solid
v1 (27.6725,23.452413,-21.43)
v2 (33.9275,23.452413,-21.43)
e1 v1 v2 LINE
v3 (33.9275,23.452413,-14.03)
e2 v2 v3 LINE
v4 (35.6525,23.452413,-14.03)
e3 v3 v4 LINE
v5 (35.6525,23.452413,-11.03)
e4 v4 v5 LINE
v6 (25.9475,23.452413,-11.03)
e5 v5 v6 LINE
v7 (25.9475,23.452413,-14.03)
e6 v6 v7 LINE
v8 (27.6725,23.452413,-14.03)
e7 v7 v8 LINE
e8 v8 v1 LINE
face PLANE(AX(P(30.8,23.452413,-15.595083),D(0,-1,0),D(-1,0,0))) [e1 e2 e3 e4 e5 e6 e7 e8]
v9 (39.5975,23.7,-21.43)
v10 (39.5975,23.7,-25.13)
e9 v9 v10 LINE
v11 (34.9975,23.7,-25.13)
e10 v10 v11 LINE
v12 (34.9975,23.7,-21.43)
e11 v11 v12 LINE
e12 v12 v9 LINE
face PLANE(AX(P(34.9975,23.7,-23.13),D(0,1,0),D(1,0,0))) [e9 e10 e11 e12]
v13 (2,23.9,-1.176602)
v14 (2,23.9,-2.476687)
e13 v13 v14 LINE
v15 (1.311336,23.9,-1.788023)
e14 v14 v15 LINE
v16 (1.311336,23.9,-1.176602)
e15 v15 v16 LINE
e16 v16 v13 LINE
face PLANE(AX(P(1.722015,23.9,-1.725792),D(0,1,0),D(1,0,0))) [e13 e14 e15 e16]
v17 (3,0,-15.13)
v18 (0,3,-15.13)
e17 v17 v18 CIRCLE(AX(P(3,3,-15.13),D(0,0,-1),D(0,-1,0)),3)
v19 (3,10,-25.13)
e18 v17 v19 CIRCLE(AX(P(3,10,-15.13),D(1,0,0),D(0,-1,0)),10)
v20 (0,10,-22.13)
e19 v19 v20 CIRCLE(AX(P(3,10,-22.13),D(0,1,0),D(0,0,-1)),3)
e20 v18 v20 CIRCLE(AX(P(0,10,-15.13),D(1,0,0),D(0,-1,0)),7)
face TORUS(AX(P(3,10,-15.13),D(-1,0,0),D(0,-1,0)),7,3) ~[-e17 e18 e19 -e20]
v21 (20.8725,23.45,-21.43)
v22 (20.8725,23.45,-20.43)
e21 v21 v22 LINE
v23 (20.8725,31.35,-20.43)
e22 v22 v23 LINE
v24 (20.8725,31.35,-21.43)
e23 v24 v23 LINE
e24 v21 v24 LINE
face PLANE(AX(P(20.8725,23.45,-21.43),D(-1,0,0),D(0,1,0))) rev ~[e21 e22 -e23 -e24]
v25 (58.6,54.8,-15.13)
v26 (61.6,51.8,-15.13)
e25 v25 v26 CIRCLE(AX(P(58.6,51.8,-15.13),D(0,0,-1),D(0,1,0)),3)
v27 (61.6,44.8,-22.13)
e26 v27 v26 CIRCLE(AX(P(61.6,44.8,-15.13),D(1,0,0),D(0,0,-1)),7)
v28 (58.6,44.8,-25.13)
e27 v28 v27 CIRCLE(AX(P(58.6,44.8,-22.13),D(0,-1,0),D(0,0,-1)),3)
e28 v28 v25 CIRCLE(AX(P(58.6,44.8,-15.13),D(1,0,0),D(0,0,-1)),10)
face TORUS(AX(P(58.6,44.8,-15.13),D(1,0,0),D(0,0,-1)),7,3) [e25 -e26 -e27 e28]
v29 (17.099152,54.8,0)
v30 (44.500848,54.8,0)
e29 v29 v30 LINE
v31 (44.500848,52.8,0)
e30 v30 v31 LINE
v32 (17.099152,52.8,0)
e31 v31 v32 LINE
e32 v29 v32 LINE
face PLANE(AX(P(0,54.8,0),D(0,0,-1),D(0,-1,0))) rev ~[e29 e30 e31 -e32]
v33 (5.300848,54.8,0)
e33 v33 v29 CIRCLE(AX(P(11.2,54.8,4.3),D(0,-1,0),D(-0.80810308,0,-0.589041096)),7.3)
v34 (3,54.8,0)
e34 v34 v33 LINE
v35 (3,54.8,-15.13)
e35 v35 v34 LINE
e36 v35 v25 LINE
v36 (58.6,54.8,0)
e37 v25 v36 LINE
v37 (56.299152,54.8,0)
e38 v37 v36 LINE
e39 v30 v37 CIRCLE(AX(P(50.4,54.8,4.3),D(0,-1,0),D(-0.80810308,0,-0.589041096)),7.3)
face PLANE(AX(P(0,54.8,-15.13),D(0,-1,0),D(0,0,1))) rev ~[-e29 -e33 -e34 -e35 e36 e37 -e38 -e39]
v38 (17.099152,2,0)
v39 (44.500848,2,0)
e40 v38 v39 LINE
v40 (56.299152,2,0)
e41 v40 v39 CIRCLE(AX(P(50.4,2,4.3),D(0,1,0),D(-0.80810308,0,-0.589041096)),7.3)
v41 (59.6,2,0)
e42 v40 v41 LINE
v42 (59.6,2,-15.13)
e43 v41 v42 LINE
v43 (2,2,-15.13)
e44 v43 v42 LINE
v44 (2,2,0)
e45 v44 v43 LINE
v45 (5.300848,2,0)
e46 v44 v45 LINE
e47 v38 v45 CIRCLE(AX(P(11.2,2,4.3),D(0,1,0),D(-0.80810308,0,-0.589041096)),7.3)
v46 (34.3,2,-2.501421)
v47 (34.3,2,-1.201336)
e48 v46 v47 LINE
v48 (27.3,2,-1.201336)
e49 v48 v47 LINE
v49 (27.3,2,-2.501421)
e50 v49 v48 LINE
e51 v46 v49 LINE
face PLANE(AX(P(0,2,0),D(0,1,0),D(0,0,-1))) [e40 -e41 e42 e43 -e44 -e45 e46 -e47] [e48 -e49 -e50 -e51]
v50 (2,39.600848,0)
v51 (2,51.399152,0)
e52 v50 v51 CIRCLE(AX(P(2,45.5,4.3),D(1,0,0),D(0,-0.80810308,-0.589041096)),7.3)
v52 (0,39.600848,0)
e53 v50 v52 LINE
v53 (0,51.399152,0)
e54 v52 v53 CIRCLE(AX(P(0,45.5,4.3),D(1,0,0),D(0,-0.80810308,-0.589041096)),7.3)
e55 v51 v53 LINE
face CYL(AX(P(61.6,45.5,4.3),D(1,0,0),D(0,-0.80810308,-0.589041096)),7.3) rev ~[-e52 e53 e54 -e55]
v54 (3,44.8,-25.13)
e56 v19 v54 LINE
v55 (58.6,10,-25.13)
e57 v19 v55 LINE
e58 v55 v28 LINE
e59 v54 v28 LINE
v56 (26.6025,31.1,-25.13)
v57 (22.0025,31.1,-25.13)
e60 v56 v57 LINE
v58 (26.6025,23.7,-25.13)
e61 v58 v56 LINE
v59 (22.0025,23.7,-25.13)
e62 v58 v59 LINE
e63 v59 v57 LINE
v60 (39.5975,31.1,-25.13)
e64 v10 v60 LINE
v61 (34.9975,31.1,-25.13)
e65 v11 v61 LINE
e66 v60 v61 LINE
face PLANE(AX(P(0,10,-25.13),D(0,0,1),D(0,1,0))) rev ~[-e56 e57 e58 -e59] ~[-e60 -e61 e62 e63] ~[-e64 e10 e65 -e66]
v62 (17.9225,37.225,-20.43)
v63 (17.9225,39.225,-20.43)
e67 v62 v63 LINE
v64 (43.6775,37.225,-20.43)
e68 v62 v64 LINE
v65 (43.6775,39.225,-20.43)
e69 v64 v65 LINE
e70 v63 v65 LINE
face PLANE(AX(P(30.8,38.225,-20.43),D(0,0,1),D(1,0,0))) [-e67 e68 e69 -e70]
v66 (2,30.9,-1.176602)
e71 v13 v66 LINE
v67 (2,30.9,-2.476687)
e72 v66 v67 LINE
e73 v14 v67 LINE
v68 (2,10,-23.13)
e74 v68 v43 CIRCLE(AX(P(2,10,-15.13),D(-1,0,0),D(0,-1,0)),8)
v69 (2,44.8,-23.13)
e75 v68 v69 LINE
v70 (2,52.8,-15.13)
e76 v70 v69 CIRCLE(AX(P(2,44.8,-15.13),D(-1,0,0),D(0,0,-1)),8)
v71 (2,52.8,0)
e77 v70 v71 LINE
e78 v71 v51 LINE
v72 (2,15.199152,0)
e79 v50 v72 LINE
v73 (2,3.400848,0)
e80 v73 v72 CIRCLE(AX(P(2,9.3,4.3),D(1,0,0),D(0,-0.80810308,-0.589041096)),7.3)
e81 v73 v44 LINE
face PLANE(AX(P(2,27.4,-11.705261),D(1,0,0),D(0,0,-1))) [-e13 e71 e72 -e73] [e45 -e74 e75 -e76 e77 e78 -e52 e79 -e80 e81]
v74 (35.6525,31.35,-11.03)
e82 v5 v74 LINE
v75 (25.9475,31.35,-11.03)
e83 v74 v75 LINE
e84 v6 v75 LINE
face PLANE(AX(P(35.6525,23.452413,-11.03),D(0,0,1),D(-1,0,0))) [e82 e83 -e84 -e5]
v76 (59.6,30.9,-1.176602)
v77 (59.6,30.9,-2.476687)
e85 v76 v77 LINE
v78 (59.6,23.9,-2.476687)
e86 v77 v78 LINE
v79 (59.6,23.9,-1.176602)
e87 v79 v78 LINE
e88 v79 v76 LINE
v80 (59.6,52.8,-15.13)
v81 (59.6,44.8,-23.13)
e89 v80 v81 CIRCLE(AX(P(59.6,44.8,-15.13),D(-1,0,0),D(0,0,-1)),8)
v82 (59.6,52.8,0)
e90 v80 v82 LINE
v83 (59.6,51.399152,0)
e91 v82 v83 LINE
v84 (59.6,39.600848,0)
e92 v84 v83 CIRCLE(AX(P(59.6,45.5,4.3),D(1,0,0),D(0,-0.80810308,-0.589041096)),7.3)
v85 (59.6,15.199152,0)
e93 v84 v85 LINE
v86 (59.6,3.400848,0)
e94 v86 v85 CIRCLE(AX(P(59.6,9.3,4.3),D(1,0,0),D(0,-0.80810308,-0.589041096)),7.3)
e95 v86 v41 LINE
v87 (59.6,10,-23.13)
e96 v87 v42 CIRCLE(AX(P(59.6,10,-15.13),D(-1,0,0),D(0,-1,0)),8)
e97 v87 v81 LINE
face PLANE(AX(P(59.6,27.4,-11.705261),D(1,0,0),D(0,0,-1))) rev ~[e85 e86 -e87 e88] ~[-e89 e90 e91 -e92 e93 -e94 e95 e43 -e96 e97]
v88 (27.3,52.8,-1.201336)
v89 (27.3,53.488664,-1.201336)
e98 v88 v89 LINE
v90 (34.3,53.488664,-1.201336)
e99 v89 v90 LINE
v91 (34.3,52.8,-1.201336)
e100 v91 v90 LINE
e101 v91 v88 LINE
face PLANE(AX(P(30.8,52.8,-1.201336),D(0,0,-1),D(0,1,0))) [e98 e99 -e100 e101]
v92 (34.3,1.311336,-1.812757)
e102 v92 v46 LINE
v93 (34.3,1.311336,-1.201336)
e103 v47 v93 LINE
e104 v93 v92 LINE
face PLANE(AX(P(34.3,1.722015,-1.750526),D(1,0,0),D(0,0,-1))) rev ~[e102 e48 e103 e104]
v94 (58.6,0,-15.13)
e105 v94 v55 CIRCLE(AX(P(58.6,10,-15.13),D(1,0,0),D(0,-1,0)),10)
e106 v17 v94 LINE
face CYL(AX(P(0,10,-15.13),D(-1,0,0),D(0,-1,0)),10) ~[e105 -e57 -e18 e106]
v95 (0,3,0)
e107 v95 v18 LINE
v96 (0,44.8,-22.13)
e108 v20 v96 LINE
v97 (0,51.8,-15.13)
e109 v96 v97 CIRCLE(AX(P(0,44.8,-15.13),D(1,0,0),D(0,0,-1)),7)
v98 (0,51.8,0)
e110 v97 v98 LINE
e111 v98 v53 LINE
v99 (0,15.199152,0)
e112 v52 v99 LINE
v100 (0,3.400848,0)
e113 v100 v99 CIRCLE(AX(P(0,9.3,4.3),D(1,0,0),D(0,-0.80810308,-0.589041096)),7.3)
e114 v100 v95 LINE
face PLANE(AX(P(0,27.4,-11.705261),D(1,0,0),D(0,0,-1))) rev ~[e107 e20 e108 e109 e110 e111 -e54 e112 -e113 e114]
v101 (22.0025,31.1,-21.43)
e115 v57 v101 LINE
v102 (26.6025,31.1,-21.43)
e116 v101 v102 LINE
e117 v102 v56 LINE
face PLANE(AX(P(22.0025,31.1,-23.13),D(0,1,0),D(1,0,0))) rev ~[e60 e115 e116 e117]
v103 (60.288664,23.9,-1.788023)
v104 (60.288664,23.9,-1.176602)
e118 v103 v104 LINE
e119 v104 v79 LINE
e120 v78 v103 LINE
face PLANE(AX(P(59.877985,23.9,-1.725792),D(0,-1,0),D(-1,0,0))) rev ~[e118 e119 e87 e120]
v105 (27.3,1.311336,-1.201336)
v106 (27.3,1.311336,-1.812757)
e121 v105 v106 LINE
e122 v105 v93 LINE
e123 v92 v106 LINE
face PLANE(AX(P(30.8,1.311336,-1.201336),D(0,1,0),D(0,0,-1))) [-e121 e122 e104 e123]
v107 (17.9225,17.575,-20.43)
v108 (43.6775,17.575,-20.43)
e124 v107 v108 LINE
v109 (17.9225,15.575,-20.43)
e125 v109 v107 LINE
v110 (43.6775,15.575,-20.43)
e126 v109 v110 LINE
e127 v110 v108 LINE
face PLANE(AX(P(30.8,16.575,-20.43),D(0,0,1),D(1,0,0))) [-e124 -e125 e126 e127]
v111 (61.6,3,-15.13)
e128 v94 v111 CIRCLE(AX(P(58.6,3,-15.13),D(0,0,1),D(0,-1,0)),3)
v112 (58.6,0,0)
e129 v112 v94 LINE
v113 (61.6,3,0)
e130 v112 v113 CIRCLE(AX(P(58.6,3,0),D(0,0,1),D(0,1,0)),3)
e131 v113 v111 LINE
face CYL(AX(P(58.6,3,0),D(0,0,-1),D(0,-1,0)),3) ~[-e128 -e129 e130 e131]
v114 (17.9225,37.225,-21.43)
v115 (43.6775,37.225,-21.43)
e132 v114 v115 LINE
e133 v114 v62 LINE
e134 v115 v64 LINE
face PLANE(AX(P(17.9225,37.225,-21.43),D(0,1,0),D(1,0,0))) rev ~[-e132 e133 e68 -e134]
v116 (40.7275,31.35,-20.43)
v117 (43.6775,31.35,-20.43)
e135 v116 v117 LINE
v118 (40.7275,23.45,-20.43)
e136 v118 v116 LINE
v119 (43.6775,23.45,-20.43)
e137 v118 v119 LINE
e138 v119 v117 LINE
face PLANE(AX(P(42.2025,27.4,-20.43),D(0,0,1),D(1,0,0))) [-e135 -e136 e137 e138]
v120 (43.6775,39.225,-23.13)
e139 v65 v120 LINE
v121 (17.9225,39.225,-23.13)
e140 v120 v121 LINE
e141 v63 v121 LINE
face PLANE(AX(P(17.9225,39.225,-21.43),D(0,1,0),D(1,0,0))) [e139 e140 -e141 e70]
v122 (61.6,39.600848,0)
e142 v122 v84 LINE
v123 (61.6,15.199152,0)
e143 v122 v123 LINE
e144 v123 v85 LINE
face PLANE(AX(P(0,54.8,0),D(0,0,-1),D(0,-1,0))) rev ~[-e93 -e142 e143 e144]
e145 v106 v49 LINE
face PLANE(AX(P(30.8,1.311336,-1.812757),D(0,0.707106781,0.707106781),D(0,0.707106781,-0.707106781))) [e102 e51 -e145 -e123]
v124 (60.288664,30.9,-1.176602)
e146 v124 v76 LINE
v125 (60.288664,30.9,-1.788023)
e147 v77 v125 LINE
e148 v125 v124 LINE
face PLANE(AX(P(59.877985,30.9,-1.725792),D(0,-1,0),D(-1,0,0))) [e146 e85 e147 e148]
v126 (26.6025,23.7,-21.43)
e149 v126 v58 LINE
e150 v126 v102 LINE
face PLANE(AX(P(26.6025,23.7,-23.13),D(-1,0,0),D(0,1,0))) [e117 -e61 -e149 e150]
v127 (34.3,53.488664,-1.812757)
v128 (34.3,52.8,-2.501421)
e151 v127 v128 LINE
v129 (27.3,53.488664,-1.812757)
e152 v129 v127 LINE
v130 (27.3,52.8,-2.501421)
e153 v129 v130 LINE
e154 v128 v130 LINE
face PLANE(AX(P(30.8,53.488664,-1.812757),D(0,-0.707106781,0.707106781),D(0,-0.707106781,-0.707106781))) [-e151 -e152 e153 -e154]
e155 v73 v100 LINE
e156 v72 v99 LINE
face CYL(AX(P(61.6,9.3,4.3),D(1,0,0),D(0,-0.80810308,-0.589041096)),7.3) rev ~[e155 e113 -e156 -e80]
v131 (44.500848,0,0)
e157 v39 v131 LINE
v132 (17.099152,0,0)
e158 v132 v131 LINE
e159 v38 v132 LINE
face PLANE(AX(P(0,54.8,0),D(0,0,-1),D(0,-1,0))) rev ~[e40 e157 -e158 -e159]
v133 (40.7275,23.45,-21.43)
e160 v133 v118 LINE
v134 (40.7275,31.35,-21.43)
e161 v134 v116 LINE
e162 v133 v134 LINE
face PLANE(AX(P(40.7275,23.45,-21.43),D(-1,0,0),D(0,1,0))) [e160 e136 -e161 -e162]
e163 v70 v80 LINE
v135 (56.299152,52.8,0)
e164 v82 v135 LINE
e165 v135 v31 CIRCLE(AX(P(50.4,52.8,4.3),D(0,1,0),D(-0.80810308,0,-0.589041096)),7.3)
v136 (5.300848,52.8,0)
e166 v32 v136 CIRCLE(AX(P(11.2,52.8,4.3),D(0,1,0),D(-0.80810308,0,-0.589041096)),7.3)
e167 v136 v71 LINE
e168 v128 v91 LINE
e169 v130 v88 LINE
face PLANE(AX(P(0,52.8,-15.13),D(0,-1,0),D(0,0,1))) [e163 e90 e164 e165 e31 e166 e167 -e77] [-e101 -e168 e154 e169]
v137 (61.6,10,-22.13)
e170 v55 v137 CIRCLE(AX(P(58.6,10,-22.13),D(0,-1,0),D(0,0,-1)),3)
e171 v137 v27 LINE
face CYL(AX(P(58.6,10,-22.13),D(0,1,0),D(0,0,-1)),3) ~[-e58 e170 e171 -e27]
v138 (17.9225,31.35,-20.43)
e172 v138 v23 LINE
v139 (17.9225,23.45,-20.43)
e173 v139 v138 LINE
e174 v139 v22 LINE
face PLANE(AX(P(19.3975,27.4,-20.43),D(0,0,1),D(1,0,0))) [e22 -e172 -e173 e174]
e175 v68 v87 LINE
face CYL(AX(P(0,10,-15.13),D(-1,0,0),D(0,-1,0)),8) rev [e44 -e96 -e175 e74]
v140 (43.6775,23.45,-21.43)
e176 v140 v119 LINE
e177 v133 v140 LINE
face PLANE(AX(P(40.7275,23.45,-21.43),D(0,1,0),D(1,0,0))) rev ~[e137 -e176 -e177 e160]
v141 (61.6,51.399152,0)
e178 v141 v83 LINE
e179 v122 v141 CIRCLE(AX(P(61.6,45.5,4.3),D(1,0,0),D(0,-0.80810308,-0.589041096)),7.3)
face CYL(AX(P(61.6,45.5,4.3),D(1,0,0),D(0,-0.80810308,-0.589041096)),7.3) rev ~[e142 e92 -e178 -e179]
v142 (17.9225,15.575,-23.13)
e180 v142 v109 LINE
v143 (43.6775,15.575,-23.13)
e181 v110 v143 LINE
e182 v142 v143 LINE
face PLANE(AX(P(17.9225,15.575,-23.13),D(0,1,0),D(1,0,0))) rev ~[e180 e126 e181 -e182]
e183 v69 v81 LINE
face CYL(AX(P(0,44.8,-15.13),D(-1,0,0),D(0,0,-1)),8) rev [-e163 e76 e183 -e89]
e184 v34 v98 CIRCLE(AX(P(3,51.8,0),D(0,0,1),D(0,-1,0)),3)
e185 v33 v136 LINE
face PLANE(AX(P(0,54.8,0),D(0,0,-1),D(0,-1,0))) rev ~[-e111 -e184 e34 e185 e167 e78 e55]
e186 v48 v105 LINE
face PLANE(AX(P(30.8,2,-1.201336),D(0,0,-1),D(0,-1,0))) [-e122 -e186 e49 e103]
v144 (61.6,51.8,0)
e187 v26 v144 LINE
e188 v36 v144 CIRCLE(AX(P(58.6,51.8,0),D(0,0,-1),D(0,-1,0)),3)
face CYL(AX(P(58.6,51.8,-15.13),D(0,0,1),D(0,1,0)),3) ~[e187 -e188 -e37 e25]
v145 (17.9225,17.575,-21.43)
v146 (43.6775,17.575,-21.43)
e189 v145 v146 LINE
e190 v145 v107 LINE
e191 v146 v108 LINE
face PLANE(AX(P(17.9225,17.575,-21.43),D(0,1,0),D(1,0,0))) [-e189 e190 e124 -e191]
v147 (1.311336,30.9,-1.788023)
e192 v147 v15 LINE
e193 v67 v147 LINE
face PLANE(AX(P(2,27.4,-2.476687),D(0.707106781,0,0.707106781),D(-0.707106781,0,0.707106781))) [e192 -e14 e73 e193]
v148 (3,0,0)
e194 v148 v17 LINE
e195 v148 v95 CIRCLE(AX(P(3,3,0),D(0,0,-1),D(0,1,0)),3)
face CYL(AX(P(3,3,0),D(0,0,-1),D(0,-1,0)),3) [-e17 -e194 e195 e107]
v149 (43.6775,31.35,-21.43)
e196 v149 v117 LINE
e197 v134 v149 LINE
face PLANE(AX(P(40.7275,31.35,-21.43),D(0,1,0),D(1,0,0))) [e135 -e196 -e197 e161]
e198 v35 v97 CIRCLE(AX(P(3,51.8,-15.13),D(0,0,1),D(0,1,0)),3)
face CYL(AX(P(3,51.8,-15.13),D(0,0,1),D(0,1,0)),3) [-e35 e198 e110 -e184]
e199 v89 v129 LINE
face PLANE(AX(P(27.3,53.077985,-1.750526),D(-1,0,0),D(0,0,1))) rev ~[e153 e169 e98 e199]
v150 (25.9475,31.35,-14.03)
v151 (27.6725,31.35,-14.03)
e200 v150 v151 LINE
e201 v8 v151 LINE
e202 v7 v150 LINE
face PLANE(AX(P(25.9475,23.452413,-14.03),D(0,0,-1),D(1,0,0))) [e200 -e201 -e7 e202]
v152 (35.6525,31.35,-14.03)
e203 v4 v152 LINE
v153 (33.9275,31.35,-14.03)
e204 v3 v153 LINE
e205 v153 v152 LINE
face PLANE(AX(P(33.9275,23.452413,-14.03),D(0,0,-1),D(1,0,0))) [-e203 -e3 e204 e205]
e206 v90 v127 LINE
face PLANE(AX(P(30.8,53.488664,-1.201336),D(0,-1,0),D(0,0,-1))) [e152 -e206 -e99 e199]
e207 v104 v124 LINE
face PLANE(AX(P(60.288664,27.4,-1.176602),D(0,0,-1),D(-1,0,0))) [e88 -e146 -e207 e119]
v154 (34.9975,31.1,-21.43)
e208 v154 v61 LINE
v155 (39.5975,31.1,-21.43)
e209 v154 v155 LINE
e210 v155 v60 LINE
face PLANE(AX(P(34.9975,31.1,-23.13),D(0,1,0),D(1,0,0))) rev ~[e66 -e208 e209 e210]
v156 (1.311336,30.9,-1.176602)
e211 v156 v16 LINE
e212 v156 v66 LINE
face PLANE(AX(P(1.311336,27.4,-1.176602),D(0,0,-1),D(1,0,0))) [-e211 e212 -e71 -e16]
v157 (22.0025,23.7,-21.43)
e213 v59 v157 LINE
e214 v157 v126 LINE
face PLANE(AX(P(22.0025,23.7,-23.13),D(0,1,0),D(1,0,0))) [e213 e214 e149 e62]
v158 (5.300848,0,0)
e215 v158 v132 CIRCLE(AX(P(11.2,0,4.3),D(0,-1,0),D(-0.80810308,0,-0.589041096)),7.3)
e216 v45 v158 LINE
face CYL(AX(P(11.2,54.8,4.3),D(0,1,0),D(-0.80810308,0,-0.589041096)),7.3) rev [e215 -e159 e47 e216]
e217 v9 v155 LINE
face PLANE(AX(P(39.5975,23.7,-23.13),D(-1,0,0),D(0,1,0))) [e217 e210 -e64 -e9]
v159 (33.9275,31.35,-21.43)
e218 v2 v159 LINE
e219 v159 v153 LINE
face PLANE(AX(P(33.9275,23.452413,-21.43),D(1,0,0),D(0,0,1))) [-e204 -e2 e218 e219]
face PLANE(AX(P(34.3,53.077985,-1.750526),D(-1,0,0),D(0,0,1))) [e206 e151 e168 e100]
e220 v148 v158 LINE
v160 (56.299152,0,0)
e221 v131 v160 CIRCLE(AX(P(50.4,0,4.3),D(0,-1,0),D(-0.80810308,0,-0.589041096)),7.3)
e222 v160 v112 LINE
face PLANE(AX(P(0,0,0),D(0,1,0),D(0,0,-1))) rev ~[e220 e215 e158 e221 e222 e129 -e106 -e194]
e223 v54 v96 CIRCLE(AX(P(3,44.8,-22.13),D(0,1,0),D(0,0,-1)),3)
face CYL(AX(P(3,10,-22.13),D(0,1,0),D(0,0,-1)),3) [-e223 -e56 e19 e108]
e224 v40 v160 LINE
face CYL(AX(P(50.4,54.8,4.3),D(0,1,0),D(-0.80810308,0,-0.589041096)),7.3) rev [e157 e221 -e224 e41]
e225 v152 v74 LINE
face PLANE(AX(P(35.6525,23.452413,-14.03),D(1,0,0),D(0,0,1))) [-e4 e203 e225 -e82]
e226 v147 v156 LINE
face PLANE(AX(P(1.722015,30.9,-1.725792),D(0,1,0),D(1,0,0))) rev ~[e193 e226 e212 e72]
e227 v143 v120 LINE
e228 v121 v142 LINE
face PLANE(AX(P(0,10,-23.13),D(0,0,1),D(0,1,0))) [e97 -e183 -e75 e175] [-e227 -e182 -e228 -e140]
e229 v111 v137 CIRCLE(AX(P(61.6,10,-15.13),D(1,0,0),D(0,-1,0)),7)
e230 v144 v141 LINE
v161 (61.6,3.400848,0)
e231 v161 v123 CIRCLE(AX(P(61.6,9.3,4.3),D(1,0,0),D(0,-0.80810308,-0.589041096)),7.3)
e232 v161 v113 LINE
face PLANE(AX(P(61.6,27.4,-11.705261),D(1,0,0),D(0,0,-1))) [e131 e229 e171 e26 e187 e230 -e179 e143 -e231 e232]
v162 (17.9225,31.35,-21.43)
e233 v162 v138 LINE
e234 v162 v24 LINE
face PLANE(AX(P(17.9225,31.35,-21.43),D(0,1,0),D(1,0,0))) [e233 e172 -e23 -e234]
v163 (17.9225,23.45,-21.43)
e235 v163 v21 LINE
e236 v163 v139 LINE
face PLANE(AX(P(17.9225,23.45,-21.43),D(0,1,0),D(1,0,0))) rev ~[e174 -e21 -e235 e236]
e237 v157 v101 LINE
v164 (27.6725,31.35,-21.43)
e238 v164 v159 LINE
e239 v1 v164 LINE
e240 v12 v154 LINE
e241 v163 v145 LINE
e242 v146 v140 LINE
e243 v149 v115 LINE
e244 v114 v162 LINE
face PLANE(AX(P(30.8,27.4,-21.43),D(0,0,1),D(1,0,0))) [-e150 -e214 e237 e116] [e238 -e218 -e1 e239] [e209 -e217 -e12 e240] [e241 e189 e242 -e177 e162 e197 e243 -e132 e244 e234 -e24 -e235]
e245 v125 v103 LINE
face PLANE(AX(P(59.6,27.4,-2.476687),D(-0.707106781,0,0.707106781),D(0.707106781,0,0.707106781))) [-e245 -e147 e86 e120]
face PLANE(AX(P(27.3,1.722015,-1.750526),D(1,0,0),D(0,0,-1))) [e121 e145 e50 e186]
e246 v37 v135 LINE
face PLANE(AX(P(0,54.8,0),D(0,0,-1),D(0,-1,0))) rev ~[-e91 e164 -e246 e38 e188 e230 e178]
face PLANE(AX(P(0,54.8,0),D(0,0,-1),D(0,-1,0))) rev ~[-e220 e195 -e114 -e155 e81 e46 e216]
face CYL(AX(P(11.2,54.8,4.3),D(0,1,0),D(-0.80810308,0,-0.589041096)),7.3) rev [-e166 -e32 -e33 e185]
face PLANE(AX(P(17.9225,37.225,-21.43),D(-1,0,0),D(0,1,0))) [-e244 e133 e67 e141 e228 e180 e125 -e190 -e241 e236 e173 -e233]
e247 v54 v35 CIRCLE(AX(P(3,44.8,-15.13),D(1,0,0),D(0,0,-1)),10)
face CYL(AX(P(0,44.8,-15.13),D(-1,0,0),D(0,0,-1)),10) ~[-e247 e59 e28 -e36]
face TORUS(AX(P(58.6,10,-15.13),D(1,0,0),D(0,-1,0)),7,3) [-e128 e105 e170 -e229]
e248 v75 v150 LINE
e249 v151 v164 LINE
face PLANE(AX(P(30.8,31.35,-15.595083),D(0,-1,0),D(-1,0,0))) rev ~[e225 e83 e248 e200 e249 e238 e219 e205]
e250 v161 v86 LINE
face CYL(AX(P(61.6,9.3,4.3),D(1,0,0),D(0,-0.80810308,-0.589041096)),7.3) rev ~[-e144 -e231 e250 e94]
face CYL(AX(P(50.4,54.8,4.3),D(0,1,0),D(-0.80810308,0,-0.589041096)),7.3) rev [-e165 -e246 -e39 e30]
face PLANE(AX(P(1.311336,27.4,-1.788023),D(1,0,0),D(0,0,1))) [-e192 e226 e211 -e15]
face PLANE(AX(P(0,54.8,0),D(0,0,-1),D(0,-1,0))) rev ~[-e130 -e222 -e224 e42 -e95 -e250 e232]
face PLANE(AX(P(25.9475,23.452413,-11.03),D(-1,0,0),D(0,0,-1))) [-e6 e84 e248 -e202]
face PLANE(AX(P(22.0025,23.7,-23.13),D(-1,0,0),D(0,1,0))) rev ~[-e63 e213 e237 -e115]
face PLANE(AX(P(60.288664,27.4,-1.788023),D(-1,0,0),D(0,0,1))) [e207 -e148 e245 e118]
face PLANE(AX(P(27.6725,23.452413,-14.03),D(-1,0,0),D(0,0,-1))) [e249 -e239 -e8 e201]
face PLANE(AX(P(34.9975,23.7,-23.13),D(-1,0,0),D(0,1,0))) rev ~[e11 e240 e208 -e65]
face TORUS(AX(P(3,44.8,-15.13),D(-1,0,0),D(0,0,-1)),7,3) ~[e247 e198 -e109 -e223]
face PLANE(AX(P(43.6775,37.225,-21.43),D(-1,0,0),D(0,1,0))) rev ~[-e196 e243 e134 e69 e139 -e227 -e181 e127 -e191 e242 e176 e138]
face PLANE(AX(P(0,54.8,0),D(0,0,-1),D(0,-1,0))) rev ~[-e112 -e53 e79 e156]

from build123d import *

# Parameters (mm, degrees)
EXTRUDE_1_DEPTH     = 61.6
SHELL_1_T           = -2
FILLET_2_R          = 3
CUT_EXTRUDE_1_REACH = 88.192
SKETCH_3_W          = 4.6
SKETCH_3_H          = 7.4
SKETCH_4_W          = 4.6
SKETCH_4_H          = 7.4
EXTRUDE_2_DEPTH     = 1.7
SKETCH_5_W          = 2.95
SKETCH_5_H          = 7.9
SKETCH_5_W_2        = 25.755
SKETCH_5_H_2        = 2
EXTRUDE_3_DEPTH     = 1
EXTRUDE_4_DEPTH     = 7.897587
CUT_EXTRUDE_START   = -61.6
CUT_EXTRUDE_3_DEPTH = 61.6
CUT_EXTRUDE_START_2 = -54.8
CUT_EXTRUDE_4_DEPTH = 54.8
CUT_EXTRUDE_5_DEPTH = 3.5
CUT_EXTRUDE_6_DEPTH = 3.5


with BuildPart() as part:
    # ｽｹｯﾁ2 → ﾎﾞｽ - 押し出し1 (new body)
    with BuildSketch(Plane(origin=(0, 0, 0), x_dir=(0, 0, -1), z_dir=(1, 0, 0))):
        with BuildLine():
            Line((0, 0), (15.13, 0))
            ThreePointArc((15.13, 0), (22.201067812, 2.928932188), (25.13, 10))
            Line((25.13, 10), (25.13, 44.8))
            ThreePointArc((25.13, 44.8), (22.201067812, 51.871067812), (15.13, 54.8))
            Line((15.13, 54.8), (0, 54.8))
            Line((0, 54.8), (0, 0))
        make_face()
    extrude(amount=EXTRUDE_1_DEPTH)

    # ｼｪﾙ1
    shell_1_openings = [part.faces().sort_by_distance(p)[0] for p in [
        (30.8, 27.4, 0),
    ]]
    offset(amount=SHELL_1_T, openings=shell_1_openings, kind=Kind.INTERSECTION)

    # ﾌｨﾚｯﾄ2
    fillet_2_edges = [part.edges().sort_by_distance(p)[0] for p in [
        (61.6, 2.928932188, -22.201067812),
        (61.6, 27.4, -25.13),
        (61.6, 51.871067812, -22.201067812),
        (61.6, 54.8, -7.565),
        (0, 54.8, -7.565),
        (0, 51.871067812, -22.201067812),
        (0, 27.4, -25.13),
        (61.6, 0, -7.565),
        (0, 2.928932188, -22.201067812),
        (0, 0, -7.565),
    ]]
    fillet(fillet_2_edges, radius=FILLET_2_R)

    # ｽｹｯﾁ3 → ｶｯﾄ - 押し出し1 (cut, up to next)
    with BuildSketch(Plane(origin=(0, 0, -25.13), x_dir=(-1, 0, 0), z_dir=(0, 0, -1)), mode=Mode.PRIVATE) as cut_extrude_1_sk1:
        with Locations((-37.2975, 27.4)):
            Rectangle(SKETCH_3_W, SKETCH_3_H)
    cut_extrude_1_tool1 = extrude(cut_extrude_1_sk1.sketch, amount=-CUT_EXTRUDE_1_REACH, mode=Mode.PRIVATE) & part.part
    # ｽｹｯﾁ3 → ｶｯﾄ - 押し出し1 (cut, up to next)
    with BuildSketch(Plane(origin=(0, 0, -25.13), x_dir=(-1, 0, 0), z_dir=(0, 0, -1)), mode=Mode.PRIVATE) as cut_extrude_1_sk2:
        with Locations((-24.3025, 27.4)):
            Rectangle(SKETCH_3_W, SKETCH_3_H)
    cut_extrude_1_tool2 = extrude(cut_extrude_1_sk2.sketch, amount=-CUT_EXTRUDE_1_REACH, mode=Mode.PRIVATE) & part.part
    add(cut_extrude_1_tool1.solids().sort_by_distance((37.2975, 27.4, -25.13))[0], mode=Mode.SUBTRACT)
    add(cut_extrude_1_tool2.solids().sort_by_distance((24.3025, 27.4, -25.13))[0], mode=Mode.SUBTRACT)

    # ｽｹｯﾁ4 → ﾎﾞｽ - 押し出し2 (add)
    with BuildSketch(Plane.XY.offset(-23.13)):
        Polygon((17.9225, 15.575), (30.6725, 15.575), (43.6775, 15.575), (43.6775, 39.225), (30.6725, 39.225), (17.9225, 39.225), align=None)
        with Locations((24.3025, 27.4)):
            Rectangle(SKETCH_4_W, SKETCH_4_H, mode=Mode.SUBTRACT)
        with Locations((37.2975, 27.4)):
            Rectangle(SKETCH_4_W, SKETCH_4_H, mode=Mode.SUBTRACT)
    extrude(amount=EXTRUDE_2_DEPTH)

    # ｽｹｯﾁ5 → ﾎﾞｽ - 押し出し3 (add)
    with BuildSketch(Plane.XY.offset(-21.43)):
        with Locations((19.3975, 27.4)):
            Rectangle(SKETCH_5_W, SKETCH_5_H)
        with Locations((42.2025, 27.4)):
            Rectangle(SKETCH_5_W, SKETCH_5_H)
        with Locations((30.8, 38.225)):
            Rectangle(SKETCH_5_W_2, SKETCH_5_H_2)
        with Locations((30.8, 16.575)):
            Rectangle(SKETCH_5_W_2, SKETCH_5_H_2)
    extrude(amount=EXTRUDE_3_DEPTH)

    # ｽｹｯﾁ6 → ﾎﾞｽ - 押し出し4 (add)
    with BuildSketch(Plane(origin=(-6.518280687, 23.45241299, -44.223812227), x_dir=(1, 0, 0), z_dir=(0, 1, 0))):
        Polygon((34.190780687, -22.793812227), (40.445780687, -22.793812227), (40.445780687, -30.193812227), (42.170780687, -30.193812227), (42.170780687, -33.193812227), (32.465780687, -33.193812227), (32.465780687, -30.193812227), (34.190780687, -30.193812227), align=None)
    extrude(amount=EXTRUDE_4_DEPTH)

    # ｽｹｯﾁ8 → ｶｯﾄ - 押し出し3 (cut)
    with BuildSketch(Plane.ZY.offset(CUT_EXTRUDE_START)):
        with BuildLine():
            Line((0, 51.399152482), (0, 39.600847518))
            ThreePointArc((0, 39.600847518), (-3, 45.5), (0, 51.399152482))
        make_face()
        with BuildLine():
            Line((0, 15.199152482), (0, 3.400847518))
            ThreePointArc((0, 3.400847518), (-3, 9.3), (0, 15.199152482))
        make_face()
    extrude(amount=CUT_EXTRUDE_3_DEPTH, mode=Mode.SUBTRACT)

    # ｽｹｯﾁ9 → ｶｯﾄ - 押し出し4 (cut)
    with BuildSketch(Plane.XZ.offset(CUT_EXTRUDE_START_2)):
        with BuildLine():
            Line((56.299152482, 0), (44.500847518, 0))
            ThreePointArc((44.500847518, 0), (50.4, -3), (56.299152482, 0))
        make_face()
        with BuildLine():
            Line((17.099152482, 0), (5.300847518, 0))
            ThreePointArc((5.300847518, 0), (11.2, -3), (17.099152482, 0))
        make_face()
    extrude(amount=CUT_EXTRUDE_4_DEPTH, mode=Mode.SUBTRACT)

    # ｽｹｯﾁ11 → ｶｯﾄ - 押し出し5 (cut, symmetric)
    with BuildSketch(Plane(origin=(0, 27.4, 0), x_dir=(-1, 0, 0), z_dir=(0, -1, 0))):
        Polygon((-59.6, 1.176601917), (-59.6, 2.476687437), (-60.288664164, 1.788023273), (-60.288664164, 1.176601917), align=None)
        Polygon((-1.311335836, 1.176601917), (-2, 1.176601917), (-2, 2.476687437), (-1.311335836, 1.788023273), align=None)
    extrude(amount=CUT_EXTRUDE_5_DEPTH, both=True, mode=Mode.SUBTRACT)

    # ｽｹｯﾁ12 → ｶｯﾄ - 押し出し6 (cut, symmetric)
    with BuildSketch(Plane(origin=(30.8, 0, 0), x_dir=(0, 0, -1), z_dir=(1, 0, 0))):
        Polygon((2.501421356, 2), (1.201335836, 2), (1.201335836, 1.311335836), (1.812757192, 1.311335836), align=None)
        Polygon((1.812757192, 53.488664164), (2.501421356, 52.8), (1.201335836, 52.8), (1.201335836, 53.488664164), align=None)
    extrude(amount=CUT_EXTRUDE_6_DEPTH, both=True, mode=Mode.SUBTRACT)


solid = part.part
